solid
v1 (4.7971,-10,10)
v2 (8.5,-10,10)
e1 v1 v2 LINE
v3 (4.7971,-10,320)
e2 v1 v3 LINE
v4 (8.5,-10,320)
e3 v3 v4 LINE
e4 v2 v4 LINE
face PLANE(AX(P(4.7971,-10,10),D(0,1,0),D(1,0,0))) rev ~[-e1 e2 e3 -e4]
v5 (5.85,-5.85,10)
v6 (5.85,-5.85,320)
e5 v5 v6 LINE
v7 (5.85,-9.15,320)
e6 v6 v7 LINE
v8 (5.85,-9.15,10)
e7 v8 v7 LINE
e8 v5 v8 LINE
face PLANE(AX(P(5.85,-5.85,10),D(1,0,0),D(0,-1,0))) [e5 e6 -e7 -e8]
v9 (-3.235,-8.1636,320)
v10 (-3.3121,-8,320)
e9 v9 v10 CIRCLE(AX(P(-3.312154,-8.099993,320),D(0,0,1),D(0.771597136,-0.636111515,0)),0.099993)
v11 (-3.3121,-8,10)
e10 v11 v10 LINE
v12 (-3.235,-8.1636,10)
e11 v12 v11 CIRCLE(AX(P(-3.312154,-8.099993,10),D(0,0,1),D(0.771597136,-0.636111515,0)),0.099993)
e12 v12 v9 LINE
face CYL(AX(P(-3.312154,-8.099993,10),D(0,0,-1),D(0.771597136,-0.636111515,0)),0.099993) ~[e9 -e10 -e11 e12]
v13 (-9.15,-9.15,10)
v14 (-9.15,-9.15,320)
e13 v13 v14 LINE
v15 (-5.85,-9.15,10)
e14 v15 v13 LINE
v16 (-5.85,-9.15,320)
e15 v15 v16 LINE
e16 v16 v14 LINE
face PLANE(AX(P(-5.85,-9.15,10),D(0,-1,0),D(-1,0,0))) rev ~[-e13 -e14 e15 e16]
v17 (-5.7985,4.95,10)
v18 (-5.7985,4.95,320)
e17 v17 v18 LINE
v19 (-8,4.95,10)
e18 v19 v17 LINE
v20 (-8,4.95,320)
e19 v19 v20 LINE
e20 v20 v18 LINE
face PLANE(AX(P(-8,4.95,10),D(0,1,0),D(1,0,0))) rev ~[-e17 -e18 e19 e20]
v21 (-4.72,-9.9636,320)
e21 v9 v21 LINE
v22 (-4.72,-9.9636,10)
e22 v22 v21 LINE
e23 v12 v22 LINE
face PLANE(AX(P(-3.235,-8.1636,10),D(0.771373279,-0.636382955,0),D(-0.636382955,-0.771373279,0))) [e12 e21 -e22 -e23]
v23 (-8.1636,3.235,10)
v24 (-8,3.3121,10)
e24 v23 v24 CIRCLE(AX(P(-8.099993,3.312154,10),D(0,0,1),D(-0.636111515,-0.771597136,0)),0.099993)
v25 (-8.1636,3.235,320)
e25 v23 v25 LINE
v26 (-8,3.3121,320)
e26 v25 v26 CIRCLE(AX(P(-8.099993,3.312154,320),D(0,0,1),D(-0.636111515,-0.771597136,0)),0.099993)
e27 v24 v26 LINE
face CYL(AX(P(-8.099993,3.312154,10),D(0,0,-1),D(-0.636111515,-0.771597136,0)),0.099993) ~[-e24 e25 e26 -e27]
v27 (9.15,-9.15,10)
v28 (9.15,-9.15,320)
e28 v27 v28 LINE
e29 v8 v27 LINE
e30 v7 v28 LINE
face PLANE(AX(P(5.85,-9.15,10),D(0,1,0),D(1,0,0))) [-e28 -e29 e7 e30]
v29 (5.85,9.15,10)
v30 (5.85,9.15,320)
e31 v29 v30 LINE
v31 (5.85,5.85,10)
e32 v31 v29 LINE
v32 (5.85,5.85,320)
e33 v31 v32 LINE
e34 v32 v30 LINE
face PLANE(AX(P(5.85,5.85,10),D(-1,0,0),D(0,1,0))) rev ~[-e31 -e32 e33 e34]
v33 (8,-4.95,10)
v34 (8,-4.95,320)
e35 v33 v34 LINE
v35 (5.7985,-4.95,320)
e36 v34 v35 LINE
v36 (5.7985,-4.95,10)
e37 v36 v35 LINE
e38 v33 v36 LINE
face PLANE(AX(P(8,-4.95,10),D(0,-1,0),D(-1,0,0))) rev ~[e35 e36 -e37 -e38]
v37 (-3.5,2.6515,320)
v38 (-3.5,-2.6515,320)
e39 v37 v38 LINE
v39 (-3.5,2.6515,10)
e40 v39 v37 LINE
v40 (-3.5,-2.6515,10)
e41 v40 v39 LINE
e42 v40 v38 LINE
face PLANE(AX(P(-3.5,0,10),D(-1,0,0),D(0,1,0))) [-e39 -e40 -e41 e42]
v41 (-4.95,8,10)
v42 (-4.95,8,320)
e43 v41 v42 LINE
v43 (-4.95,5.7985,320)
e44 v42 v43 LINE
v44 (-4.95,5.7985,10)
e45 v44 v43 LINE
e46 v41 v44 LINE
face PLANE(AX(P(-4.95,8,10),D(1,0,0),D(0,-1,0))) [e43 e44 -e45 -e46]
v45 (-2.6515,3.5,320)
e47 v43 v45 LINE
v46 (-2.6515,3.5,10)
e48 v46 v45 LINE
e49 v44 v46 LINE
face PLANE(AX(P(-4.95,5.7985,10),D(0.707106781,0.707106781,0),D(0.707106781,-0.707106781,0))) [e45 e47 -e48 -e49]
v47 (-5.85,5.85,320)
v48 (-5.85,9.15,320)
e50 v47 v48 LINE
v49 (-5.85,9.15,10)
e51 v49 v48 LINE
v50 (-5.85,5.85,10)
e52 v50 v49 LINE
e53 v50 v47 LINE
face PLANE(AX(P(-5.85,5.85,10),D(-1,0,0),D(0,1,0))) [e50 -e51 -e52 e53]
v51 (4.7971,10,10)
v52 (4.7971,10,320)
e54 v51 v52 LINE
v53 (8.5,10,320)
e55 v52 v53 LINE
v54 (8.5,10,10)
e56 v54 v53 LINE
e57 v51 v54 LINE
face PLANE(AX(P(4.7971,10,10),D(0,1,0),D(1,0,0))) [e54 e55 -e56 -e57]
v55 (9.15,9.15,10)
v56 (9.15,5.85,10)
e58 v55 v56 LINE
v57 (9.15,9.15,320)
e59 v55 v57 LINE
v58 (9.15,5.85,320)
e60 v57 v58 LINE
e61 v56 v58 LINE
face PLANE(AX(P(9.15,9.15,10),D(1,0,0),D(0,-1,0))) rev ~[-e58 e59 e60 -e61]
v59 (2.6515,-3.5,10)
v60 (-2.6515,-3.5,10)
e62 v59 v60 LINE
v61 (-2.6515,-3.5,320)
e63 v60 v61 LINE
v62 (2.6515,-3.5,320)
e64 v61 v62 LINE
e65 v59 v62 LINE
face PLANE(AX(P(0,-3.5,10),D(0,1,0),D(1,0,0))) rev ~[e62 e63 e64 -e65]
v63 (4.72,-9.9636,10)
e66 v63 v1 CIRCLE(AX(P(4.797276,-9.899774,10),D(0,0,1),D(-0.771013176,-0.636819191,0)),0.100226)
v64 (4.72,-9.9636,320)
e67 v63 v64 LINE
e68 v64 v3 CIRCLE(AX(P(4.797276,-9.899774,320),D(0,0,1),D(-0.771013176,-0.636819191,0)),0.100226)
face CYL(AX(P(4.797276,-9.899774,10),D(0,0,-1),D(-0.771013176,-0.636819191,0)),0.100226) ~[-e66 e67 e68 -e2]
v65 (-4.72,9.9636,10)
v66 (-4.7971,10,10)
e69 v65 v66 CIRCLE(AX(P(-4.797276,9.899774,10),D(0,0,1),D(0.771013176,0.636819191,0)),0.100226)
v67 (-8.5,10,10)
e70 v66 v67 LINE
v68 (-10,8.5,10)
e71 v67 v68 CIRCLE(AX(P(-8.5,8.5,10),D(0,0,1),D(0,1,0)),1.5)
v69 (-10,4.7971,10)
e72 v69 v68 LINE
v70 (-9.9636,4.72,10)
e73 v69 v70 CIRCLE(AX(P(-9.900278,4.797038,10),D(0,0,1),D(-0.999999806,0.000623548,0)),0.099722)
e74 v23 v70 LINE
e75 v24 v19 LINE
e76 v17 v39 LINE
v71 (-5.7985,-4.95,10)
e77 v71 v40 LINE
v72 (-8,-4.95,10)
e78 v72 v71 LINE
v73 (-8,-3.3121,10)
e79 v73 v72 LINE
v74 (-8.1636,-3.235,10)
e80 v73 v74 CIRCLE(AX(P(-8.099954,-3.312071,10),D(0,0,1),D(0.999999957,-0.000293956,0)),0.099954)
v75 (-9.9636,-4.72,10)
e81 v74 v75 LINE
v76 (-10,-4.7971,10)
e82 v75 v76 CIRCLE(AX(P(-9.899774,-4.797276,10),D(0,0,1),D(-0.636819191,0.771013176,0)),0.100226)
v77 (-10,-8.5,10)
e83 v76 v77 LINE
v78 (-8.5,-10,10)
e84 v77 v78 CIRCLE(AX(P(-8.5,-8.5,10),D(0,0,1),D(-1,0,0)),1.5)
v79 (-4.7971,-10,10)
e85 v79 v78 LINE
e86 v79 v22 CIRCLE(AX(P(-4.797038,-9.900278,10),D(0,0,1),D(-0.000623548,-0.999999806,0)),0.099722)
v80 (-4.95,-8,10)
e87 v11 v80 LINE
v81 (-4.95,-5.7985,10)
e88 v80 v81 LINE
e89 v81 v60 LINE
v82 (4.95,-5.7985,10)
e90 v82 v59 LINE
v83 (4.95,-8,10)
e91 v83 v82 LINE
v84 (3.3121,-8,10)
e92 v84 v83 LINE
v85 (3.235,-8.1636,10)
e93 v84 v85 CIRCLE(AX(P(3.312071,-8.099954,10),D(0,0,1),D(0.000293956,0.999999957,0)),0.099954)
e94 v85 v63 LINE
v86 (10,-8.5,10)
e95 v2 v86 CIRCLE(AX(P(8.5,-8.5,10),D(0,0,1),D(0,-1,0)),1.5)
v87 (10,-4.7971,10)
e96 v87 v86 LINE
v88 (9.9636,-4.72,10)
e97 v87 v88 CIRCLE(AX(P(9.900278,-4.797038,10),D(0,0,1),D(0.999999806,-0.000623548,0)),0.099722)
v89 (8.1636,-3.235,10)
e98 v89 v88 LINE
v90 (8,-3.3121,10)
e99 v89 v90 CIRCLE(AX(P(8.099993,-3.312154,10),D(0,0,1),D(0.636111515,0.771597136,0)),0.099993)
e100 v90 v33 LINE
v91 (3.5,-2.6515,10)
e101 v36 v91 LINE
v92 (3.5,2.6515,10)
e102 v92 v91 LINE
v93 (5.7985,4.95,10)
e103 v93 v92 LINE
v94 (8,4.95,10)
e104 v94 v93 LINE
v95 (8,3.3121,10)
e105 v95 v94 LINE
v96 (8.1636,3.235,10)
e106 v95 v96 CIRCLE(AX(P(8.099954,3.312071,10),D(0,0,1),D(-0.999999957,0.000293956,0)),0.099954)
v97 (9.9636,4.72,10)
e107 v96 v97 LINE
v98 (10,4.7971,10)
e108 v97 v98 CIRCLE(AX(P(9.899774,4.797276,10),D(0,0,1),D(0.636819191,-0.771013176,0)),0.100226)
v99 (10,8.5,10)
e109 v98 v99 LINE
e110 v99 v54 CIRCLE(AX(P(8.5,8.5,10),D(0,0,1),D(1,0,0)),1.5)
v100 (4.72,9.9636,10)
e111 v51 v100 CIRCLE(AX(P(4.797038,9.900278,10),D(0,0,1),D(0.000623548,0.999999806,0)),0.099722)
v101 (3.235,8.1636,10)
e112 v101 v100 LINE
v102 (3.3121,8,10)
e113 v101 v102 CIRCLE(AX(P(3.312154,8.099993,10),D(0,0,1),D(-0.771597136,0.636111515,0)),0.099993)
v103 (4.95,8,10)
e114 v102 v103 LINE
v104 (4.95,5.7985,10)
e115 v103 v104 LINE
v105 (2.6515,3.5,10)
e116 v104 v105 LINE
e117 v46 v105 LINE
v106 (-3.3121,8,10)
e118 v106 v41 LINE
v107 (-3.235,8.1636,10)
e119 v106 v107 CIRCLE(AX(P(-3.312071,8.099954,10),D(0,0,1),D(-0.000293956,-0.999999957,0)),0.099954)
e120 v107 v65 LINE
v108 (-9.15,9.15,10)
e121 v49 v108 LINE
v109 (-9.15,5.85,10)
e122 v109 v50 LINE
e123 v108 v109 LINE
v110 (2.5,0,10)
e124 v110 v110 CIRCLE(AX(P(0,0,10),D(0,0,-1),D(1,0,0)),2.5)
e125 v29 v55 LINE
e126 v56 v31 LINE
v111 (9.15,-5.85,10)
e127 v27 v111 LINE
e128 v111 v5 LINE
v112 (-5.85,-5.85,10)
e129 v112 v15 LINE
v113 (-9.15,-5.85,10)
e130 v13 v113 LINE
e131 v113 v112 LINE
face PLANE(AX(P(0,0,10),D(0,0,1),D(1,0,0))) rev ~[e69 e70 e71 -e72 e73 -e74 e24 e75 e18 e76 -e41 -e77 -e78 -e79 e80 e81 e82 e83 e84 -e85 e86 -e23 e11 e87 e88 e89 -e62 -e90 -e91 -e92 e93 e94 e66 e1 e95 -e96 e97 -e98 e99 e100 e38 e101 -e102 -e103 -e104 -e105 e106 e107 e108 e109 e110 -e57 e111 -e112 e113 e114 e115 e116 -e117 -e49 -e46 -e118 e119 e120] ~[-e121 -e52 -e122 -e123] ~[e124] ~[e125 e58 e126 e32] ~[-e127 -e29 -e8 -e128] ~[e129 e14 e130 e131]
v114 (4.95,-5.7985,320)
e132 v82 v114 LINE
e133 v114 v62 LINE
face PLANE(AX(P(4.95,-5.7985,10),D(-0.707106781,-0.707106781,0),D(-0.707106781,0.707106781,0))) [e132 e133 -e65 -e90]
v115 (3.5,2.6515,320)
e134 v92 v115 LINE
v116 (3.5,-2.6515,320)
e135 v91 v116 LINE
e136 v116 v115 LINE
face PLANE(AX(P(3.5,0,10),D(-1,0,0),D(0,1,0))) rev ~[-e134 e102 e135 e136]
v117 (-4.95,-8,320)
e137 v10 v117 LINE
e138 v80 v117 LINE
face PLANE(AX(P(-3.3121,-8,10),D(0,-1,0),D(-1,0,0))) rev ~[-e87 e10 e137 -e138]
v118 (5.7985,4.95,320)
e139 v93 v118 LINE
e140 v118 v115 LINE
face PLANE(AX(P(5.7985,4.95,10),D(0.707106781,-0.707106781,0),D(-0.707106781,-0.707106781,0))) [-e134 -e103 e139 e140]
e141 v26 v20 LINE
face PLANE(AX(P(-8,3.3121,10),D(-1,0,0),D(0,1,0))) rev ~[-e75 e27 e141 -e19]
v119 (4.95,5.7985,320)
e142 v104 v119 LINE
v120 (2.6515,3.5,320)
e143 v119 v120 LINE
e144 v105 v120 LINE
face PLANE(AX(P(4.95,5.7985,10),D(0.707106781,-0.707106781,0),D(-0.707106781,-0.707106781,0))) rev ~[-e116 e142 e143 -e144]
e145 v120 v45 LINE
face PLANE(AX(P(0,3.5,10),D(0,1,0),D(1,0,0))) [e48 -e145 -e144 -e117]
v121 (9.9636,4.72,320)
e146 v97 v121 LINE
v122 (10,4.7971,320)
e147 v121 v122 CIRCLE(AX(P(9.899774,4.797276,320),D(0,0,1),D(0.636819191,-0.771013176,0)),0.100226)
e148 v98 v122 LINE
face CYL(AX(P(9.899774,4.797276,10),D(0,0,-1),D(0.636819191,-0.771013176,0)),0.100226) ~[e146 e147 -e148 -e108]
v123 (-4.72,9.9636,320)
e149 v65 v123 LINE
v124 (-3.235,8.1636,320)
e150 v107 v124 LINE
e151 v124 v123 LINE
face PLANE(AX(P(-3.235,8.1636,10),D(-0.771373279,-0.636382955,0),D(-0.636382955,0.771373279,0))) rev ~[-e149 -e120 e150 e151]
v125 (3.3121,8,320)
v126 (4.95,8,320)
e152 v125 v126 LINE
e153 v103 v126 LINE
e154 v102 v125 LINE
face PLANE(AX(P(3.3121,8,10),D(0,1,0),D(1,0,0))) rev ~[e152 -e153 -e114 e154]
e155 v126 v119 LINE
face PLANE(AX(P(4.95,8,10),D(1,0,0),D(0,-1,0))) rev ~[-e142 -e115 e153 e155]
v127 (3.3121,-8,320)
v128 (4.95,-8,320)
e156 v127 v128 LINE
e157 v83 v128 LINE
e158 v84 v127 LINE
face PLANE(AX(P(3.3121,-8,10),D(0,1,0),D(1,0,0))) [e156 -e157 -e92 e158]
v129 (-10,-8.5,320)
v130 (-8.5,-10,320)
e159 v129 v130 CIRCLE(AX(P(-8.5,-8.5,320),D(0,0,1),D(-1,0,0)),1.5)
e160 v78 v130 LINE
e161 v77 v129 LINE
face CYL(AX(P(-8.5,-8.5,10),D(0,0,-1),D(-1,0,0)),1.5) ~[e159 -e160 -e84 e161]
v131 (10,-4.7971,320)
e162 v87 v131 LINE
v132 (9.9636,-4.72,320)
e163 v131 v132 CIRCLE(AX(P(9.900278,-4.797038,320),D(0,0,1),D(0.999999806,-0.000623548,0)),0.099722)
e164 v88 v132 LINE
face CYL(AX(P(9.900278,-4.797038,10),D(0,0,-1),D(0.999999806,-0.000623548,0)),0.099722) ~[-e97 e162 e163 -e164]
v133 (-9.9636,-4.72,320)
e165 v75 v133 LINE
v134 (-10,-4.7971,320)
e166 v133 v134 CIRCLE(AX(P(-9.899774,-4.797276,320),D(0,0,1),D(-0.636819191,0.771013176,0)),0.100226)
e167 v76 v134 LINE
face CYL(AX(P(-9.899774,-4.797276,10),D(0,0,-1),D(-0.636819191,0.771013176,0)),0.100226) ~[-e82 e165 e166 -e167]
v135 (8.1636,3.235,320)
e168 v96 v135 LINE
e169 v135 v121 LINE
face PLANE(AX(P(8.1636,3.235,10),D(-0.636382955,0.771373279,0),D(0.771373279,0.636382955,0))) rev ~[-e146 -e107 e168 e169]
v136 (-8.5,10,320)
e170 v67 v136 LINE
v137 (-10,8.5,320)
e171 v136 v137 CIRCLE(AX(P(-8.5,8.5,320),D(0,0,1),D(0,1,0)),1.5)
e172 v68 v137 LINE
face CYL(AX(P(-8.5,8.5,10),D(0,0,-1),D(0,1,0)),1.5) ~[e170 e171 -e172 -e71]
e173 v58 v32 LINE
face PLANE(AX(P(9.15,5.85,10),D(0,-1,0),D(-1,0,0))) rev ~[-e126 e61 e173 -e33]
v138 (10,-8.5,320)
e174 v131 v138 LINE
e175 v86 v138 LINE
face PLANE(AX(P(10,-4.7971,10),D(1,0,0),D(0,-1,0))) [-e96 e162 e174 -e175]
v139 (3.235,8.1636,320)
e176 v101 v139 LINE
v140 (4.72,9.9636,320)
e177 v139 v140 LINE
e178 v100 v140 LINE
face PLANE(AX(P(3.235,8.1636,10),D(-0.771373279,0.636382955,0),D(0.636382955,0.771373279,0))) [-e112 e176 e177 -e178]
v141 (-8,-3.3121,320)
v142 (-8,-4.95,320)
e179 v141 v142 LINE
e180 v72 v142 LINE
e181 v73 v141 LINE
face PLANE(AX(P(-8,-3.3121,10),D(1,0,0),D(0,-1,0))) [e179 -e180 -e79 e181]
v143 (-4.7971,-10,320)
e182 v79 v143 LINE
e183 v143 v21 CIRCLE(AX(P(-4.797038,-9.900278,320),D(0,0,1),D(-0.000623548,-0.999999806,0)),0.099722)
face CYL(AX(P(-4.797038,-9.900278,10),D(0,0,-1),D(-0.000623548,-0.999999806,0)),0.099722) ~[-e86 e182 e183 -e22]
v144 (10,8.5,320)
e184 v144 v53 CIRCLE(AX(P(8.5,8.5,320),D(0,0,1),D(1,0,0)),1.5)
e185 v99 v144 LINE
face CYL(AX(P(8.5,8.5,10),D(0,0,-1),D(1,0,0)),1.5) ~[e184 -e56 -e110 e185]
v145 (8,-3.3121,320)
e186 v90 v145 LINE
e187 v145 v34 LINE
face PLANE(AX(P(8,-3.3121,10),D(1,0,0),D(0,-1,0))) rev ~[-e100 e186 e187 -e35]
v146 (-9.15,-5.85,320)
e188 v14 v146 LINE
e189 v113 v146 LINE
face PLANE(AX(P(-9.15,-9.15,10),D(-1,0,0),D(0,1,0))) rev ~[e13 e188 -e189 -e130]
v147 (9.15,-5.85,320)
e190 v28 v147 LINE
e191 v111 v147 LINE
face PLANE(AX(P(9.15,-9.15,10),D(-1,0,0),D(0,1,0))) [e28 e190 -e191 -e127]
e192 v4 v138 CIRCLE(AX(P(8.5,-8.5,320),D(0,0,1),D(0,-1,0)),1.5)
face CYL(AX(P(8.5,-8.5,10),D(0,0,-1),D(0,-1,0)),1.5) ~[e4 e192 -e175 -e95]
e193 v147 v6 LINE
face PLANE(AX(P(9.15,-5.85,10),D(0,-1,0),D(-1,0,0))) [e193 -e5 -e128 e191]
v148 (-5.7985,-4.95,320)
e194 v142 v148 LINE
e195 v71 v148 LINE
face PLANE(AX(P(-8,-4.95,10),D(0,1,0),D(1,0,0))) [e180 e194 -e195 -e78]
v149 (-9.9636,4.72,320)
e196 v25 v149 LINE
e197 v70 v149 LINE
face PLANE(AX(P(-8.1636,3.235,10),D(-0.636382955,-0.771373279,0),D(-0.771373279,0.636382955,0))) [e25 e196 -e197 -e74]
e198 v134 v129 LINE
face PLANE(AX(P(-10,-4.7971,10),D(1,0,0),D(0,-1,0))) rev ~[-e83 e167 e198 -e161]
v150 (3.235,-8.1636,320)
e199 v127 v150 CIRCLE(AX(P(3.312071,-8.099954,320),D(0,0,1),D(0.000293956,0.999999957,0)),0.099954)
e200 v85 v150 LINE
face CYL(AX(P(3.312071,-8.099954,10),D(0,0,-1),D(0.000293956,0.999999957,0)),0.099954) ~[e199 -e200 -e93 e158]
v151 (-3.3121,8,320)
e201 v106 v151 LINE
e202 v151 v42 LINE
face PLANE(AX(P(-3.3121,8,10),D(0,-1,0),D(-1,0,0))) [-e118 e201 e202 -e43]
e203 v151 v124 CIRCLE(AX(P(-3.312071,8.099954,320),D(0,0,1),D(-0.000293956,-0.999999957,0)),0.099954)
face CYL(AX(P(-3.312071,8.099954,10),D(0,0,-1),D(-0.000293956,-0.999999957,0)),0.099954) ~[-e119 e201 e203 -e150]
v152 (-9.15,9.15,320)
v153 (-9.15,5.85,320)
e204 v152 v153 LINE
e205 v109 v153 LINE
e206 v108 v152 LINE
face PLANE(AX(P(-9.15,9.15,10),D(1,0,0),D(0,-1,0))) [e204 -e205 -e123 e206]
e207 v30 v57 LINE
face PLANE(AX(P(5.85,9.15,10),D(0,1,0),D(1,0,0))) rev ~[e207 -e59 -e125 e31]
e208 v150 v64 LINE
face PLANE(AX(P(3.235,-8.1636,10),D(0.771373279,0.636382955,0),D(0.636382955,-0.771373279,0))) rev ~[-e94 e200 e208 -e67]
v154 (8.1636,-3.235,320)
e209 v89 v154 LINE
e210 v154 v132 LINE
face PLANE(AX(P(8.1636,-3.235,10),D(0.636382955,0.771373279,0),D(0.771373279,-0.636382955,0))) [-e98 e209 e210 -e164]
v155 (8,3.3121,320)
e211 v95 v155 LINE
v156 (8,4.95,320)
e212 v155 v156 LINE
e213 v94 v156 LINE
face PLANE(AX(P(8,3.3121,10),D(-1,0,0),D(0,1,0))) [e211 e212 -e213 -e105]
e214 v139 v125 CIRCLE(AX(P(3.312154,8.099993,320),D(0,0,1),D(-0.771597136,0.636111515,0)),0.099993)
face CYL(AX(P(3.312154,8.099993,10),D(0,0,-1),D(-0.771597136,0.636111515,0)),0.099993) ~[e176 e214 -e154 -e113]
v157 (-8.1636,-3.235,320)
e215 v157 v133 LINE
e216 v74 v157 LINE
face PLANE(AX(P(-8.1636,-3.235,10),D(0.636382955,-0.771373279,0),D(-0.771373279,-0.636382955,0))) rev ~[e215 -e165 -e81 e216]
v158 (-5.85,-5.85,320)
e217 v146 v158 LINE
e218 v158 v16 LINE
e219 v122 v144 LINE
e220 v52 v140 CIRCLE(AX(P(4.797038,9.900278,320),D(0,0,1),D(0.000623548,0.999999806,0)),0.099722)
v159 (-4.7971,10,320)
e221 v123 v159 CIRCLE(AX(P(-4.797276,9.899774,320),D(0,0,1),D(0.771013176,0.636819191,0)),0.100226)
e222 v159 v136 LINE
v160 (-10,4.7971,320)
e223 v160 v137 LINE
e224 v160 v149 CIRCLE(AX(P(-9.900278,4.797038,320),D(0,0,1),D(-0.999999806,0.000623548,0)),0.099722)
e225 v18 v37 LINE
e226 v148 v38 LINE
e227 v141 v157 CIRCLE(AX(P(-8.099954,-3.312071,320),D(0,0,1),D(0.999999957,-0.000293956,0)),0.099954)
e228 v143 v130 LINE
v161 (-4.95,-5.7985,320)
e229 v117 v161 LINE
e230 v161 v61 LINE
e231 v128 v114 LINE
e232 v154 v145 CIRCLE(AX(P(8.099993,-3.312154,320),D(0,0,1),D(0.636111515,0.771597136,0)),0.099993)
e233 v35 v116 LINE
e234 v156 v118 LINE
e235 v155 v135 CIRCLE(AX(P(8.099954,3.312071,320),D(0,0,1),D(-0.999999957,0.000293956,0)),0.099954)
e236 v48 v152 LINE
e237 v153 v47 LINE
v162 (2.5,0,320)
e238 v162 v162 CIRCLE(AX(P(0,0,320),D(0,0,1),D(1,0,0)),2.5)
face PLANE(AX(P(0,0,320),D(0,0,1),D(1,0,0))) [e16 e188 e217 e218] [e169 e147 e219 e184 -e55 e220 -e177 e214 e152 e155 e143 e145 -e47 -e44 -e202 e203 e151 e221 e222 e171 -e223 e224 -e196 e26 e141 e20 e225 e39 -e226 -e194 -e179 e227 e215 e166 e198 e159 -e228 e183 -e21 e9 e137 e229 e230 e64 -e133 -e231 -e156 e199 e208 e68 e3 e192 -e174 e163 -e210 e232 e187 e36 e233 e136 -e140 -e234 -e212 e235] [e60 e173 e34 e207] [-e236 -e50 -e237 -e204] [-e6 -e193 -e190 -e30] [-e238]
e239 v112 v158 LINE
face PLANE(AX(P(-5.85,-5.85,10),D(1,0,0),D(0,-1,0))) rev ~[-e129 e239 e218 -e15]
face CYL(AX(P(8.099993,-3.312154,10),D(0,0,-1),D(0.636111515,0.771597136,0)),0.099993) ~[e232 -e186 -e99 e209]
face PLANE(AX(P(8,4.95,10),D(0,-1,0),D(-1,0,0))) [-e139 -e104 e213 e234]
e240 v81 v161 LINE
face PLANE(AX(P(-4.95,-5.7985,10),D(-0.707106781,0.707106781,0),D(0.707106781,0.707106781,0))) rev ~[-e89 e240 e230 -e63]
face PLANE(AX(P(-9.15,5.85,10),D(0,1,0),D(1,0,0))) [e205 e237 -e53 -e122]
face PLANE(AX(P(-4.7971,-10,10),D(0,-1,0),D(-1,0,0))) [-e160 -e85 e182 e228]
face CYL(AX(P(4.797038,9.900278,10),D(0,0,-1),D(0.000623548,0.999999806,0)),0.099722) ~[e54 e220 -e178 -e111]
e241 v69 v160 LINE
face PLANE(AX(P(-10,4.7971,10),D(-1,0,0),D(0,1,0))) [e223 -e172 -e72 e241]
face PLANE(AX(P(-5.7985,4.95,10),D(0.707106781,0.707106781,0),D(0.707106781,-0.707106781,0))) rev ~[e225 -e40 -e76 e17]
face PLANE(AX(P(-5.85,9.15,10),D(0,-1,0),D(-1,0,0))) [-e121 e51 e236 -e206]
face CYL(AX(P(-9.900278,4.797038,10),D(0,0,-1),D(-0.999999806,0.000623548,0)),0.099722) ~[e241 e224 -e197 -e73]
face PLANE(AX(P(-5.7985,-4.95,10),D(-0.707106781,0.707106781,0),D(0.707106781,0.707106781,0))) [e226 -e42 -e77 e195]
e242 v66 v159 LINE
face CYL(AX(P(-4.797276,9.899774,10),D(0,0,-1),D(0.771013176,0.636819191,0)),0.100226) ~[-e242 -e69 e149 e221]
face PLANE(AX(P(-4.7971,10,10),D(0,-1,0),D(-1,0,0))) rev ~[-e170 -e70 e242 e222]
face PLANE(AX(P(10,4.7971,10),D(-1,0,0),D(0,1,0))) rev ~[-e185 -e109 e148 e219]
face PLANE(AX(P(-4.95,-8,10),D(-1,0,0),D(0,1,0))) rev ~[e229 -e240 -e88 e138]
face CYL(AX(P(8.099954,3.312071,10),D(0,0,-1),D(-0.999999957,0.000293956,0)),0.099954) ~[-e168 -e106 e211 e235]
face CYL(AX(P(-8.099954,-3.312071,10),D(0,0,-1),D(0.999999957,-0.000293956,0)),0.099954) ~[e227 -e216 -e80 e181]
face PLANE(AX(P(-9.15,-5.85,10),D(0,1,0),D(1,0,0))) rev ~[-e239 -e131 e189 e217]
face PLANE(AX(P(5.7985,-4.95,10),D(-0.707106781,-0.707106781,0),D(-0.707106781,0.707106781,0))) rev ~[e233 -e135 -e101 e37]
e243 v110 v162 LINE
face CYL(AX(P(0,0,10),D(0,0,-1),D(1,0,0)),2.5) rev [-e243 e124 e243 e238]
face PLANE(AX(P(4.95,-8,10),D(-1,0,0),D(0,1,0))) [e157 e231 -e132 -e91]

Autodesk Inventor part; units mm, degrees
ref_plane "Начальная плоскость" through (0, 0, 10) normal (0, 0, 1) x (1, 0, 0)
ref_plane "Конечная плоскость" through (0, 0, 320) normal (0, 0, 1) x (1, 0, 0)
sketch "Эскиз" plane through (0, 0, 0) normal (0, 0, 1) x (1, 0, 0)
  line L0 (-14.4349, 0) -> (14.4349, 0) projected
  line L1 (0, -14) -> (0, 14) projected
  line L2 (0, 0) -> (7.5, 7.5) construction
  circle A0 centre (7.5, 7.5) radius 1.65 construction
  line L3 (5.85, 9.15) -> (9.15, 9.15)
  line L4 (9.15, 9.15) -> (9.15, 5.85)
  line L5 (9.15, 5.85) -> (5.85, 5.85)
  line L6 (5.85, 5.85) -> (5.85, 9.15)
  line L7 (3.235, 8.1636) -> (4.72, 9.9636)
  line L8 (4.7971, 10) -> (8.5, 10)
  line L9 (3.3121, 8) -> (4.95, 8)
  line L10 (4.95, 8) -> (4.95, 5.7985)
  line L11 (4.95, 5.7985) -> (2.6515, 3.5)
  line L12 (0, 3.5) -> (2.6515, 3.5)
  circle A1 centre (0, 0) radius 2.5
  line L13 (8.1636, 3.235) -> (9.9636, 4.72)
  line L14 (10, 4.7971) -> (10, 8.5)
  line L15 (8, 3.3121) -> (8, 4.95)
  line L16 (8, 4.95) -> (5.7985, 4.95)
  line L17 (5.7985, 4.95) -> (3.5, 2.6515)
  line L18 (3.5, 0) -> (3.5, 2.6515)
  arc A2 (10, 8.5) -> (8.5, 10) centre (8.5, 8.5) ccw
  line L19 (0, 0) -> (-7.5, 7.5) construction
  circle A3 centre (-7.5, 7.5) radius 1.65 construction
  line L20 (-5.85, 9.15) -> (-9.15, 9.15)
  line L21 (-9.15, 9.15) -> (-9.15, 5.85)
  line L22 (-9.15, 5.85) -> (-5.85, 5.85)
  line L23 (-5.85, 5.85) -> (-5.85, 9.15)
  line L24 (-3.235, 8.1636) -> (-4.72, 9.9636)
  line L25 (-4.7971, 10) -> (-8.5, 10)
  line L26 (-3.3121, 8) -> (-4.95, 8)
  line L27 (-4.95, 8) -> (-4.95, 5.7985)
  line L28 (-4.95, 5.7985) -> (-2.6515, 3.5)
  line L29 (0, 3.5) -> (-2.6515, 3.5)
  line L30 (-3.5, 0) -> (-3.5, 2.6515)
  line L31 (-5.7985, 4.95) -> (-3.5, 2.6515)
  line L32 (-8, 4.95) -> (-5.7985, 4.95)
  line L33 (-8, 3.3121) -> (-8, 4.95)
  line L34 (-8.1636, 3.235) -> (-9.9636, 4.72)
  line L35 (-10, 4.7971) -> (-10, 8.5)
  arc A4 (-8.5, 10) -> (-10, 8.5) centre (-8.5, 8.5) ccw
  line L36 (0, 14) -> (0, -14)
  line L37 (0, 0) -> (7.5, -7.5) construction
  circle A5 centre (7.5, -7.5) radius 1.65 construction
  line L38 (5.85, -9.15) -> (9.15, -9.15)
  line L39 (9.15, -9.15) -> (9.15, -5.85)
  line L40 (9.15, -5.85) -> (5.85, -5.85)
  line L41 (5.85, -5.85) -> (5.85, -9.15)
  line L42 (3.235, -8.1636) -> (4.72, -9.9636)
  line L43 (4.7971, -10) -> (8.5, -10)
  line L44 (3.3121, -8) -> (4.95, -8)
  line L45 (4.95, -8) -> (4.95, -5.7985)
  line L46 (4.95, -5.7985) -> (2.6515, -3.5)
  line L47 (0, -3.5) -> (2.6515, -3.5)
  line L48 (3.5, 0) -> (3.5, -2.6515)
  line L49 (5.7985, -4.95) -> (3.5, -2.6515)
  line L50 (8, -4.95) -> (5.7985, -4.95)
  line L51 (8, -3.3121) -> (8, -4.95)
  line L52 (8.1636, -3.235) -> (9.9636, -4.72)
  line L53 (10, -4.7971) -> (10, -8.5)
  arc A6 (8.5, -10) -> (10, -8.5) centre (8.5, -8.5) ccw
  line L54 (0, 0) -> (-7.5, -7.5) construction
  line L55 (-4.95, -8) -> (-4.95, -5.7985)
  line L56 (-3.3121, -8) -> (-4.95, -8)
  line L57 (-5.7985, -4.95) -> (-3.5, -2.6515)
  line L58 (-4.95, -5.7985) -> (-2.6515, -3.5)
  line L59 (-3.5, 0) -> (-3.5, -2.6515)
  line L60 (0, -3.5) -> (-2.6515, -3.5)
  circle A7 centre (-7.5, -7.5) radius 1.65 construction
  line L61 (-5.85, -5.85) -> (-5.85, -9.15)
  line L62 (-5.85, -9.15) -> (-9.15, -9.15)
  line L63 (-9.15, -9.15) -> (-9.15, -5.85)
  line L64 (-9.15, -5.85) -> (-5.85, -5.85)
  line L65 (-3.235, -8.1636) -> (-4.72, -9.9636)
  line L66 (-8, -4.95) -> (-5.7985, -4.95)
  line L67 (-8, -3.3121) -> (-8, -4.95)
  line L68 (-8.1636, -3.235) -> (-9.9636, -4.72)
  line L69 (-4.7971, -10) -> (-8.5, -10)
  line L70 (-10, -4.7971) -> (-10, -8.5)
  arc A8 (-10, -8.5) -> (-8.5, -10) centre (-8.5, -8.5) ccw
  arc A9 (3.235, 8.1636) -> (3.3121, 8) centre (3.3121, 8.1) ccw
  arc A10 (4.7971, 10) -> (4.72, 9.9636) centre (4.7971, 9.9) ccw
  arc A11 (8, 3.3121) -> (8.1636, 3.235) centre (8.1, 3.3121) ccw
  arc A12 (9.9636, 4.72) -> (10, 4.7971) centre (9.9, 4.7971) ccw
  arc A13 (-3.3121, 8) -> (-3.235, 8.1636) centre (-3.3121, 8.1) ccw
  arc A14 (-4.72, 9.9636) -> (-4.7971, 10) centre (-4.7971, 9.9) ccw
  arc A15 (-8.1636, 3.235) -> (-8, 3.3121) centre (-8.1, 3.3121) ccw
  arc A16 (-10, 4.7971) -> (-9.9636, 4.72) centre (-9.9, 4.7971) ccw
  arc A17 (-8, -3.3121) -> (-8.1636, -3.235) centre (-8.1, -3.3121) ccw
  arc A18 (-9.9636, -4.72) -> (-10, -4.7971) centre (-9.9, -4.7971) ccw
  arc A19 (-3.235, -8.1636) -> (-3.3121, -8) centre (-3.3121, -8.1) ccw
  arc A20 (-4.7971, -10) -> (-4.72, -9.9636) centre (-4.7971, -9.9) ccw
  arc A21 (4.72, -9.9636) -> (4.7971, -10) centre (4.7971, -9.9) ccw
  arc A22 (3.3121, -8) -> (3.235, -8.1636) centre (3.3121, -8.1) ccw
  arc A23 (8.1636, -3.235) -> (8, -3.3121) centre (8.1, -3.3121) ccw
  arc A24 (10, -4.7971) -> (9.9636, -4.72) centre (9.9, -4.7971) ccw
  point P0 (3.1, 8)
  point P1 (4.75, 10)
  point P2 (7.5, 9.15)
  point P3 (8, 3.1)
  point P4 (10, 4.75)
  point P5 (7.5, 5.85)
  point P6 (9.15, 7.5)
  point P7 (-3.1, 8)
  point P8 (-4.75, 10)
  point P9 (-7.5, 9.15)
  point P10 (-8, 3.1)
  point P11 (-10, 4.75)
  point P12 (-7.5, 5.85)
  point P13 (-9.15, 7.5)
  point P14 (3.1, -8)
  point P15 (4.75, -10)
  point P16 (7.5, -9.15)
  point P17 (8, -3.1)
  point P18 (10, -4.75)
  point P19 (7.5, -5.85)
  point P20 (9.15, -7.5)
  point P21 (-3.1, -8)
  point P22 (-7.5, -5.85)
  point P23 (-7.5, -9.15)
  point P24 (-9.15, -7.5)
  point P25 (-4.75, -10)
  point P26 (-8, -3.1)
  point P27 (-10, -4.75)
  dimension "d0" = 45
  dimension "d1" = 3.3
  dimension "d2" = 1.5
  dimension "d3" = 1.2
  dimension "d4" = 5
  dimension "d5" = 6.5
  dimension "d6" = 15
  dimension "d7" = 20
  dimension "d8" = 9.9
  dimension "d9" = 9.5
  dimension "d10" = 6.2
  dimension "d11" = 2
  dimension "d18" = 0.1
  dimension "d19" = 0.1
extrude "Тело" add sketch "Эскиз" along normal up to surface (310 mm away) from surface at 10 contours A1 L1 L12 L11 L10 L9 A9 L7 A10 L8 A2 L14 A12 L13 A11 L15 L16 L17 L18 L0 | L0 L48 L49 L50 L51 A23 L52 A24 L53 A6 L43 A21 L42 A22 L44 L45 L46 L47 L1 A1 | A1 L0 L30 L31 L32 L33 A15 L34 A16 L35 A4 L25 A14 L24 A13 L26 L27 L28 L29 L1 | L1 L60 L58 L55 L56 A19 L65 A20 L69 A8 L70 A18 L68 A17 L67 L66 L57 L59 L0 A1
sketch "Эскиз2" plane through (0, 0, 0) normal (0, 0, 1) x (1, 0, 0)
  line L0 (0, 0) -> (10, 0)
ref_plane "РабПлоскость3" through (0, 0, 0) normal (0, -1, 0) x (1, 0, 0)
sketch "Эскиз3" plane through (0, 0, 0) normal (0, -1, 0) x (1, 0, 0)
  line L0 (-2, 10) -> (12, 10)
  line L1 (-2, 320) -> (12, 320)
  dimension "d25" = 310
ref_plane "РабПлоскость4" through (120, -51.5, 320) normal (0, 0, 1) x (1, 0, 0)
split "Разделение1" plane through (120, -51.5, 320) removes the side toward (0, 0, 1)
ref_plane "РабПлоскость5" through (120, -55.2029, 10) normal (0, 0, -1) x (-1, 0, 0)
split "Разделение2" plane through (120, -55.2029, 10) removes the side toward (0, 0, -1)
properties part number "короткая палка"
